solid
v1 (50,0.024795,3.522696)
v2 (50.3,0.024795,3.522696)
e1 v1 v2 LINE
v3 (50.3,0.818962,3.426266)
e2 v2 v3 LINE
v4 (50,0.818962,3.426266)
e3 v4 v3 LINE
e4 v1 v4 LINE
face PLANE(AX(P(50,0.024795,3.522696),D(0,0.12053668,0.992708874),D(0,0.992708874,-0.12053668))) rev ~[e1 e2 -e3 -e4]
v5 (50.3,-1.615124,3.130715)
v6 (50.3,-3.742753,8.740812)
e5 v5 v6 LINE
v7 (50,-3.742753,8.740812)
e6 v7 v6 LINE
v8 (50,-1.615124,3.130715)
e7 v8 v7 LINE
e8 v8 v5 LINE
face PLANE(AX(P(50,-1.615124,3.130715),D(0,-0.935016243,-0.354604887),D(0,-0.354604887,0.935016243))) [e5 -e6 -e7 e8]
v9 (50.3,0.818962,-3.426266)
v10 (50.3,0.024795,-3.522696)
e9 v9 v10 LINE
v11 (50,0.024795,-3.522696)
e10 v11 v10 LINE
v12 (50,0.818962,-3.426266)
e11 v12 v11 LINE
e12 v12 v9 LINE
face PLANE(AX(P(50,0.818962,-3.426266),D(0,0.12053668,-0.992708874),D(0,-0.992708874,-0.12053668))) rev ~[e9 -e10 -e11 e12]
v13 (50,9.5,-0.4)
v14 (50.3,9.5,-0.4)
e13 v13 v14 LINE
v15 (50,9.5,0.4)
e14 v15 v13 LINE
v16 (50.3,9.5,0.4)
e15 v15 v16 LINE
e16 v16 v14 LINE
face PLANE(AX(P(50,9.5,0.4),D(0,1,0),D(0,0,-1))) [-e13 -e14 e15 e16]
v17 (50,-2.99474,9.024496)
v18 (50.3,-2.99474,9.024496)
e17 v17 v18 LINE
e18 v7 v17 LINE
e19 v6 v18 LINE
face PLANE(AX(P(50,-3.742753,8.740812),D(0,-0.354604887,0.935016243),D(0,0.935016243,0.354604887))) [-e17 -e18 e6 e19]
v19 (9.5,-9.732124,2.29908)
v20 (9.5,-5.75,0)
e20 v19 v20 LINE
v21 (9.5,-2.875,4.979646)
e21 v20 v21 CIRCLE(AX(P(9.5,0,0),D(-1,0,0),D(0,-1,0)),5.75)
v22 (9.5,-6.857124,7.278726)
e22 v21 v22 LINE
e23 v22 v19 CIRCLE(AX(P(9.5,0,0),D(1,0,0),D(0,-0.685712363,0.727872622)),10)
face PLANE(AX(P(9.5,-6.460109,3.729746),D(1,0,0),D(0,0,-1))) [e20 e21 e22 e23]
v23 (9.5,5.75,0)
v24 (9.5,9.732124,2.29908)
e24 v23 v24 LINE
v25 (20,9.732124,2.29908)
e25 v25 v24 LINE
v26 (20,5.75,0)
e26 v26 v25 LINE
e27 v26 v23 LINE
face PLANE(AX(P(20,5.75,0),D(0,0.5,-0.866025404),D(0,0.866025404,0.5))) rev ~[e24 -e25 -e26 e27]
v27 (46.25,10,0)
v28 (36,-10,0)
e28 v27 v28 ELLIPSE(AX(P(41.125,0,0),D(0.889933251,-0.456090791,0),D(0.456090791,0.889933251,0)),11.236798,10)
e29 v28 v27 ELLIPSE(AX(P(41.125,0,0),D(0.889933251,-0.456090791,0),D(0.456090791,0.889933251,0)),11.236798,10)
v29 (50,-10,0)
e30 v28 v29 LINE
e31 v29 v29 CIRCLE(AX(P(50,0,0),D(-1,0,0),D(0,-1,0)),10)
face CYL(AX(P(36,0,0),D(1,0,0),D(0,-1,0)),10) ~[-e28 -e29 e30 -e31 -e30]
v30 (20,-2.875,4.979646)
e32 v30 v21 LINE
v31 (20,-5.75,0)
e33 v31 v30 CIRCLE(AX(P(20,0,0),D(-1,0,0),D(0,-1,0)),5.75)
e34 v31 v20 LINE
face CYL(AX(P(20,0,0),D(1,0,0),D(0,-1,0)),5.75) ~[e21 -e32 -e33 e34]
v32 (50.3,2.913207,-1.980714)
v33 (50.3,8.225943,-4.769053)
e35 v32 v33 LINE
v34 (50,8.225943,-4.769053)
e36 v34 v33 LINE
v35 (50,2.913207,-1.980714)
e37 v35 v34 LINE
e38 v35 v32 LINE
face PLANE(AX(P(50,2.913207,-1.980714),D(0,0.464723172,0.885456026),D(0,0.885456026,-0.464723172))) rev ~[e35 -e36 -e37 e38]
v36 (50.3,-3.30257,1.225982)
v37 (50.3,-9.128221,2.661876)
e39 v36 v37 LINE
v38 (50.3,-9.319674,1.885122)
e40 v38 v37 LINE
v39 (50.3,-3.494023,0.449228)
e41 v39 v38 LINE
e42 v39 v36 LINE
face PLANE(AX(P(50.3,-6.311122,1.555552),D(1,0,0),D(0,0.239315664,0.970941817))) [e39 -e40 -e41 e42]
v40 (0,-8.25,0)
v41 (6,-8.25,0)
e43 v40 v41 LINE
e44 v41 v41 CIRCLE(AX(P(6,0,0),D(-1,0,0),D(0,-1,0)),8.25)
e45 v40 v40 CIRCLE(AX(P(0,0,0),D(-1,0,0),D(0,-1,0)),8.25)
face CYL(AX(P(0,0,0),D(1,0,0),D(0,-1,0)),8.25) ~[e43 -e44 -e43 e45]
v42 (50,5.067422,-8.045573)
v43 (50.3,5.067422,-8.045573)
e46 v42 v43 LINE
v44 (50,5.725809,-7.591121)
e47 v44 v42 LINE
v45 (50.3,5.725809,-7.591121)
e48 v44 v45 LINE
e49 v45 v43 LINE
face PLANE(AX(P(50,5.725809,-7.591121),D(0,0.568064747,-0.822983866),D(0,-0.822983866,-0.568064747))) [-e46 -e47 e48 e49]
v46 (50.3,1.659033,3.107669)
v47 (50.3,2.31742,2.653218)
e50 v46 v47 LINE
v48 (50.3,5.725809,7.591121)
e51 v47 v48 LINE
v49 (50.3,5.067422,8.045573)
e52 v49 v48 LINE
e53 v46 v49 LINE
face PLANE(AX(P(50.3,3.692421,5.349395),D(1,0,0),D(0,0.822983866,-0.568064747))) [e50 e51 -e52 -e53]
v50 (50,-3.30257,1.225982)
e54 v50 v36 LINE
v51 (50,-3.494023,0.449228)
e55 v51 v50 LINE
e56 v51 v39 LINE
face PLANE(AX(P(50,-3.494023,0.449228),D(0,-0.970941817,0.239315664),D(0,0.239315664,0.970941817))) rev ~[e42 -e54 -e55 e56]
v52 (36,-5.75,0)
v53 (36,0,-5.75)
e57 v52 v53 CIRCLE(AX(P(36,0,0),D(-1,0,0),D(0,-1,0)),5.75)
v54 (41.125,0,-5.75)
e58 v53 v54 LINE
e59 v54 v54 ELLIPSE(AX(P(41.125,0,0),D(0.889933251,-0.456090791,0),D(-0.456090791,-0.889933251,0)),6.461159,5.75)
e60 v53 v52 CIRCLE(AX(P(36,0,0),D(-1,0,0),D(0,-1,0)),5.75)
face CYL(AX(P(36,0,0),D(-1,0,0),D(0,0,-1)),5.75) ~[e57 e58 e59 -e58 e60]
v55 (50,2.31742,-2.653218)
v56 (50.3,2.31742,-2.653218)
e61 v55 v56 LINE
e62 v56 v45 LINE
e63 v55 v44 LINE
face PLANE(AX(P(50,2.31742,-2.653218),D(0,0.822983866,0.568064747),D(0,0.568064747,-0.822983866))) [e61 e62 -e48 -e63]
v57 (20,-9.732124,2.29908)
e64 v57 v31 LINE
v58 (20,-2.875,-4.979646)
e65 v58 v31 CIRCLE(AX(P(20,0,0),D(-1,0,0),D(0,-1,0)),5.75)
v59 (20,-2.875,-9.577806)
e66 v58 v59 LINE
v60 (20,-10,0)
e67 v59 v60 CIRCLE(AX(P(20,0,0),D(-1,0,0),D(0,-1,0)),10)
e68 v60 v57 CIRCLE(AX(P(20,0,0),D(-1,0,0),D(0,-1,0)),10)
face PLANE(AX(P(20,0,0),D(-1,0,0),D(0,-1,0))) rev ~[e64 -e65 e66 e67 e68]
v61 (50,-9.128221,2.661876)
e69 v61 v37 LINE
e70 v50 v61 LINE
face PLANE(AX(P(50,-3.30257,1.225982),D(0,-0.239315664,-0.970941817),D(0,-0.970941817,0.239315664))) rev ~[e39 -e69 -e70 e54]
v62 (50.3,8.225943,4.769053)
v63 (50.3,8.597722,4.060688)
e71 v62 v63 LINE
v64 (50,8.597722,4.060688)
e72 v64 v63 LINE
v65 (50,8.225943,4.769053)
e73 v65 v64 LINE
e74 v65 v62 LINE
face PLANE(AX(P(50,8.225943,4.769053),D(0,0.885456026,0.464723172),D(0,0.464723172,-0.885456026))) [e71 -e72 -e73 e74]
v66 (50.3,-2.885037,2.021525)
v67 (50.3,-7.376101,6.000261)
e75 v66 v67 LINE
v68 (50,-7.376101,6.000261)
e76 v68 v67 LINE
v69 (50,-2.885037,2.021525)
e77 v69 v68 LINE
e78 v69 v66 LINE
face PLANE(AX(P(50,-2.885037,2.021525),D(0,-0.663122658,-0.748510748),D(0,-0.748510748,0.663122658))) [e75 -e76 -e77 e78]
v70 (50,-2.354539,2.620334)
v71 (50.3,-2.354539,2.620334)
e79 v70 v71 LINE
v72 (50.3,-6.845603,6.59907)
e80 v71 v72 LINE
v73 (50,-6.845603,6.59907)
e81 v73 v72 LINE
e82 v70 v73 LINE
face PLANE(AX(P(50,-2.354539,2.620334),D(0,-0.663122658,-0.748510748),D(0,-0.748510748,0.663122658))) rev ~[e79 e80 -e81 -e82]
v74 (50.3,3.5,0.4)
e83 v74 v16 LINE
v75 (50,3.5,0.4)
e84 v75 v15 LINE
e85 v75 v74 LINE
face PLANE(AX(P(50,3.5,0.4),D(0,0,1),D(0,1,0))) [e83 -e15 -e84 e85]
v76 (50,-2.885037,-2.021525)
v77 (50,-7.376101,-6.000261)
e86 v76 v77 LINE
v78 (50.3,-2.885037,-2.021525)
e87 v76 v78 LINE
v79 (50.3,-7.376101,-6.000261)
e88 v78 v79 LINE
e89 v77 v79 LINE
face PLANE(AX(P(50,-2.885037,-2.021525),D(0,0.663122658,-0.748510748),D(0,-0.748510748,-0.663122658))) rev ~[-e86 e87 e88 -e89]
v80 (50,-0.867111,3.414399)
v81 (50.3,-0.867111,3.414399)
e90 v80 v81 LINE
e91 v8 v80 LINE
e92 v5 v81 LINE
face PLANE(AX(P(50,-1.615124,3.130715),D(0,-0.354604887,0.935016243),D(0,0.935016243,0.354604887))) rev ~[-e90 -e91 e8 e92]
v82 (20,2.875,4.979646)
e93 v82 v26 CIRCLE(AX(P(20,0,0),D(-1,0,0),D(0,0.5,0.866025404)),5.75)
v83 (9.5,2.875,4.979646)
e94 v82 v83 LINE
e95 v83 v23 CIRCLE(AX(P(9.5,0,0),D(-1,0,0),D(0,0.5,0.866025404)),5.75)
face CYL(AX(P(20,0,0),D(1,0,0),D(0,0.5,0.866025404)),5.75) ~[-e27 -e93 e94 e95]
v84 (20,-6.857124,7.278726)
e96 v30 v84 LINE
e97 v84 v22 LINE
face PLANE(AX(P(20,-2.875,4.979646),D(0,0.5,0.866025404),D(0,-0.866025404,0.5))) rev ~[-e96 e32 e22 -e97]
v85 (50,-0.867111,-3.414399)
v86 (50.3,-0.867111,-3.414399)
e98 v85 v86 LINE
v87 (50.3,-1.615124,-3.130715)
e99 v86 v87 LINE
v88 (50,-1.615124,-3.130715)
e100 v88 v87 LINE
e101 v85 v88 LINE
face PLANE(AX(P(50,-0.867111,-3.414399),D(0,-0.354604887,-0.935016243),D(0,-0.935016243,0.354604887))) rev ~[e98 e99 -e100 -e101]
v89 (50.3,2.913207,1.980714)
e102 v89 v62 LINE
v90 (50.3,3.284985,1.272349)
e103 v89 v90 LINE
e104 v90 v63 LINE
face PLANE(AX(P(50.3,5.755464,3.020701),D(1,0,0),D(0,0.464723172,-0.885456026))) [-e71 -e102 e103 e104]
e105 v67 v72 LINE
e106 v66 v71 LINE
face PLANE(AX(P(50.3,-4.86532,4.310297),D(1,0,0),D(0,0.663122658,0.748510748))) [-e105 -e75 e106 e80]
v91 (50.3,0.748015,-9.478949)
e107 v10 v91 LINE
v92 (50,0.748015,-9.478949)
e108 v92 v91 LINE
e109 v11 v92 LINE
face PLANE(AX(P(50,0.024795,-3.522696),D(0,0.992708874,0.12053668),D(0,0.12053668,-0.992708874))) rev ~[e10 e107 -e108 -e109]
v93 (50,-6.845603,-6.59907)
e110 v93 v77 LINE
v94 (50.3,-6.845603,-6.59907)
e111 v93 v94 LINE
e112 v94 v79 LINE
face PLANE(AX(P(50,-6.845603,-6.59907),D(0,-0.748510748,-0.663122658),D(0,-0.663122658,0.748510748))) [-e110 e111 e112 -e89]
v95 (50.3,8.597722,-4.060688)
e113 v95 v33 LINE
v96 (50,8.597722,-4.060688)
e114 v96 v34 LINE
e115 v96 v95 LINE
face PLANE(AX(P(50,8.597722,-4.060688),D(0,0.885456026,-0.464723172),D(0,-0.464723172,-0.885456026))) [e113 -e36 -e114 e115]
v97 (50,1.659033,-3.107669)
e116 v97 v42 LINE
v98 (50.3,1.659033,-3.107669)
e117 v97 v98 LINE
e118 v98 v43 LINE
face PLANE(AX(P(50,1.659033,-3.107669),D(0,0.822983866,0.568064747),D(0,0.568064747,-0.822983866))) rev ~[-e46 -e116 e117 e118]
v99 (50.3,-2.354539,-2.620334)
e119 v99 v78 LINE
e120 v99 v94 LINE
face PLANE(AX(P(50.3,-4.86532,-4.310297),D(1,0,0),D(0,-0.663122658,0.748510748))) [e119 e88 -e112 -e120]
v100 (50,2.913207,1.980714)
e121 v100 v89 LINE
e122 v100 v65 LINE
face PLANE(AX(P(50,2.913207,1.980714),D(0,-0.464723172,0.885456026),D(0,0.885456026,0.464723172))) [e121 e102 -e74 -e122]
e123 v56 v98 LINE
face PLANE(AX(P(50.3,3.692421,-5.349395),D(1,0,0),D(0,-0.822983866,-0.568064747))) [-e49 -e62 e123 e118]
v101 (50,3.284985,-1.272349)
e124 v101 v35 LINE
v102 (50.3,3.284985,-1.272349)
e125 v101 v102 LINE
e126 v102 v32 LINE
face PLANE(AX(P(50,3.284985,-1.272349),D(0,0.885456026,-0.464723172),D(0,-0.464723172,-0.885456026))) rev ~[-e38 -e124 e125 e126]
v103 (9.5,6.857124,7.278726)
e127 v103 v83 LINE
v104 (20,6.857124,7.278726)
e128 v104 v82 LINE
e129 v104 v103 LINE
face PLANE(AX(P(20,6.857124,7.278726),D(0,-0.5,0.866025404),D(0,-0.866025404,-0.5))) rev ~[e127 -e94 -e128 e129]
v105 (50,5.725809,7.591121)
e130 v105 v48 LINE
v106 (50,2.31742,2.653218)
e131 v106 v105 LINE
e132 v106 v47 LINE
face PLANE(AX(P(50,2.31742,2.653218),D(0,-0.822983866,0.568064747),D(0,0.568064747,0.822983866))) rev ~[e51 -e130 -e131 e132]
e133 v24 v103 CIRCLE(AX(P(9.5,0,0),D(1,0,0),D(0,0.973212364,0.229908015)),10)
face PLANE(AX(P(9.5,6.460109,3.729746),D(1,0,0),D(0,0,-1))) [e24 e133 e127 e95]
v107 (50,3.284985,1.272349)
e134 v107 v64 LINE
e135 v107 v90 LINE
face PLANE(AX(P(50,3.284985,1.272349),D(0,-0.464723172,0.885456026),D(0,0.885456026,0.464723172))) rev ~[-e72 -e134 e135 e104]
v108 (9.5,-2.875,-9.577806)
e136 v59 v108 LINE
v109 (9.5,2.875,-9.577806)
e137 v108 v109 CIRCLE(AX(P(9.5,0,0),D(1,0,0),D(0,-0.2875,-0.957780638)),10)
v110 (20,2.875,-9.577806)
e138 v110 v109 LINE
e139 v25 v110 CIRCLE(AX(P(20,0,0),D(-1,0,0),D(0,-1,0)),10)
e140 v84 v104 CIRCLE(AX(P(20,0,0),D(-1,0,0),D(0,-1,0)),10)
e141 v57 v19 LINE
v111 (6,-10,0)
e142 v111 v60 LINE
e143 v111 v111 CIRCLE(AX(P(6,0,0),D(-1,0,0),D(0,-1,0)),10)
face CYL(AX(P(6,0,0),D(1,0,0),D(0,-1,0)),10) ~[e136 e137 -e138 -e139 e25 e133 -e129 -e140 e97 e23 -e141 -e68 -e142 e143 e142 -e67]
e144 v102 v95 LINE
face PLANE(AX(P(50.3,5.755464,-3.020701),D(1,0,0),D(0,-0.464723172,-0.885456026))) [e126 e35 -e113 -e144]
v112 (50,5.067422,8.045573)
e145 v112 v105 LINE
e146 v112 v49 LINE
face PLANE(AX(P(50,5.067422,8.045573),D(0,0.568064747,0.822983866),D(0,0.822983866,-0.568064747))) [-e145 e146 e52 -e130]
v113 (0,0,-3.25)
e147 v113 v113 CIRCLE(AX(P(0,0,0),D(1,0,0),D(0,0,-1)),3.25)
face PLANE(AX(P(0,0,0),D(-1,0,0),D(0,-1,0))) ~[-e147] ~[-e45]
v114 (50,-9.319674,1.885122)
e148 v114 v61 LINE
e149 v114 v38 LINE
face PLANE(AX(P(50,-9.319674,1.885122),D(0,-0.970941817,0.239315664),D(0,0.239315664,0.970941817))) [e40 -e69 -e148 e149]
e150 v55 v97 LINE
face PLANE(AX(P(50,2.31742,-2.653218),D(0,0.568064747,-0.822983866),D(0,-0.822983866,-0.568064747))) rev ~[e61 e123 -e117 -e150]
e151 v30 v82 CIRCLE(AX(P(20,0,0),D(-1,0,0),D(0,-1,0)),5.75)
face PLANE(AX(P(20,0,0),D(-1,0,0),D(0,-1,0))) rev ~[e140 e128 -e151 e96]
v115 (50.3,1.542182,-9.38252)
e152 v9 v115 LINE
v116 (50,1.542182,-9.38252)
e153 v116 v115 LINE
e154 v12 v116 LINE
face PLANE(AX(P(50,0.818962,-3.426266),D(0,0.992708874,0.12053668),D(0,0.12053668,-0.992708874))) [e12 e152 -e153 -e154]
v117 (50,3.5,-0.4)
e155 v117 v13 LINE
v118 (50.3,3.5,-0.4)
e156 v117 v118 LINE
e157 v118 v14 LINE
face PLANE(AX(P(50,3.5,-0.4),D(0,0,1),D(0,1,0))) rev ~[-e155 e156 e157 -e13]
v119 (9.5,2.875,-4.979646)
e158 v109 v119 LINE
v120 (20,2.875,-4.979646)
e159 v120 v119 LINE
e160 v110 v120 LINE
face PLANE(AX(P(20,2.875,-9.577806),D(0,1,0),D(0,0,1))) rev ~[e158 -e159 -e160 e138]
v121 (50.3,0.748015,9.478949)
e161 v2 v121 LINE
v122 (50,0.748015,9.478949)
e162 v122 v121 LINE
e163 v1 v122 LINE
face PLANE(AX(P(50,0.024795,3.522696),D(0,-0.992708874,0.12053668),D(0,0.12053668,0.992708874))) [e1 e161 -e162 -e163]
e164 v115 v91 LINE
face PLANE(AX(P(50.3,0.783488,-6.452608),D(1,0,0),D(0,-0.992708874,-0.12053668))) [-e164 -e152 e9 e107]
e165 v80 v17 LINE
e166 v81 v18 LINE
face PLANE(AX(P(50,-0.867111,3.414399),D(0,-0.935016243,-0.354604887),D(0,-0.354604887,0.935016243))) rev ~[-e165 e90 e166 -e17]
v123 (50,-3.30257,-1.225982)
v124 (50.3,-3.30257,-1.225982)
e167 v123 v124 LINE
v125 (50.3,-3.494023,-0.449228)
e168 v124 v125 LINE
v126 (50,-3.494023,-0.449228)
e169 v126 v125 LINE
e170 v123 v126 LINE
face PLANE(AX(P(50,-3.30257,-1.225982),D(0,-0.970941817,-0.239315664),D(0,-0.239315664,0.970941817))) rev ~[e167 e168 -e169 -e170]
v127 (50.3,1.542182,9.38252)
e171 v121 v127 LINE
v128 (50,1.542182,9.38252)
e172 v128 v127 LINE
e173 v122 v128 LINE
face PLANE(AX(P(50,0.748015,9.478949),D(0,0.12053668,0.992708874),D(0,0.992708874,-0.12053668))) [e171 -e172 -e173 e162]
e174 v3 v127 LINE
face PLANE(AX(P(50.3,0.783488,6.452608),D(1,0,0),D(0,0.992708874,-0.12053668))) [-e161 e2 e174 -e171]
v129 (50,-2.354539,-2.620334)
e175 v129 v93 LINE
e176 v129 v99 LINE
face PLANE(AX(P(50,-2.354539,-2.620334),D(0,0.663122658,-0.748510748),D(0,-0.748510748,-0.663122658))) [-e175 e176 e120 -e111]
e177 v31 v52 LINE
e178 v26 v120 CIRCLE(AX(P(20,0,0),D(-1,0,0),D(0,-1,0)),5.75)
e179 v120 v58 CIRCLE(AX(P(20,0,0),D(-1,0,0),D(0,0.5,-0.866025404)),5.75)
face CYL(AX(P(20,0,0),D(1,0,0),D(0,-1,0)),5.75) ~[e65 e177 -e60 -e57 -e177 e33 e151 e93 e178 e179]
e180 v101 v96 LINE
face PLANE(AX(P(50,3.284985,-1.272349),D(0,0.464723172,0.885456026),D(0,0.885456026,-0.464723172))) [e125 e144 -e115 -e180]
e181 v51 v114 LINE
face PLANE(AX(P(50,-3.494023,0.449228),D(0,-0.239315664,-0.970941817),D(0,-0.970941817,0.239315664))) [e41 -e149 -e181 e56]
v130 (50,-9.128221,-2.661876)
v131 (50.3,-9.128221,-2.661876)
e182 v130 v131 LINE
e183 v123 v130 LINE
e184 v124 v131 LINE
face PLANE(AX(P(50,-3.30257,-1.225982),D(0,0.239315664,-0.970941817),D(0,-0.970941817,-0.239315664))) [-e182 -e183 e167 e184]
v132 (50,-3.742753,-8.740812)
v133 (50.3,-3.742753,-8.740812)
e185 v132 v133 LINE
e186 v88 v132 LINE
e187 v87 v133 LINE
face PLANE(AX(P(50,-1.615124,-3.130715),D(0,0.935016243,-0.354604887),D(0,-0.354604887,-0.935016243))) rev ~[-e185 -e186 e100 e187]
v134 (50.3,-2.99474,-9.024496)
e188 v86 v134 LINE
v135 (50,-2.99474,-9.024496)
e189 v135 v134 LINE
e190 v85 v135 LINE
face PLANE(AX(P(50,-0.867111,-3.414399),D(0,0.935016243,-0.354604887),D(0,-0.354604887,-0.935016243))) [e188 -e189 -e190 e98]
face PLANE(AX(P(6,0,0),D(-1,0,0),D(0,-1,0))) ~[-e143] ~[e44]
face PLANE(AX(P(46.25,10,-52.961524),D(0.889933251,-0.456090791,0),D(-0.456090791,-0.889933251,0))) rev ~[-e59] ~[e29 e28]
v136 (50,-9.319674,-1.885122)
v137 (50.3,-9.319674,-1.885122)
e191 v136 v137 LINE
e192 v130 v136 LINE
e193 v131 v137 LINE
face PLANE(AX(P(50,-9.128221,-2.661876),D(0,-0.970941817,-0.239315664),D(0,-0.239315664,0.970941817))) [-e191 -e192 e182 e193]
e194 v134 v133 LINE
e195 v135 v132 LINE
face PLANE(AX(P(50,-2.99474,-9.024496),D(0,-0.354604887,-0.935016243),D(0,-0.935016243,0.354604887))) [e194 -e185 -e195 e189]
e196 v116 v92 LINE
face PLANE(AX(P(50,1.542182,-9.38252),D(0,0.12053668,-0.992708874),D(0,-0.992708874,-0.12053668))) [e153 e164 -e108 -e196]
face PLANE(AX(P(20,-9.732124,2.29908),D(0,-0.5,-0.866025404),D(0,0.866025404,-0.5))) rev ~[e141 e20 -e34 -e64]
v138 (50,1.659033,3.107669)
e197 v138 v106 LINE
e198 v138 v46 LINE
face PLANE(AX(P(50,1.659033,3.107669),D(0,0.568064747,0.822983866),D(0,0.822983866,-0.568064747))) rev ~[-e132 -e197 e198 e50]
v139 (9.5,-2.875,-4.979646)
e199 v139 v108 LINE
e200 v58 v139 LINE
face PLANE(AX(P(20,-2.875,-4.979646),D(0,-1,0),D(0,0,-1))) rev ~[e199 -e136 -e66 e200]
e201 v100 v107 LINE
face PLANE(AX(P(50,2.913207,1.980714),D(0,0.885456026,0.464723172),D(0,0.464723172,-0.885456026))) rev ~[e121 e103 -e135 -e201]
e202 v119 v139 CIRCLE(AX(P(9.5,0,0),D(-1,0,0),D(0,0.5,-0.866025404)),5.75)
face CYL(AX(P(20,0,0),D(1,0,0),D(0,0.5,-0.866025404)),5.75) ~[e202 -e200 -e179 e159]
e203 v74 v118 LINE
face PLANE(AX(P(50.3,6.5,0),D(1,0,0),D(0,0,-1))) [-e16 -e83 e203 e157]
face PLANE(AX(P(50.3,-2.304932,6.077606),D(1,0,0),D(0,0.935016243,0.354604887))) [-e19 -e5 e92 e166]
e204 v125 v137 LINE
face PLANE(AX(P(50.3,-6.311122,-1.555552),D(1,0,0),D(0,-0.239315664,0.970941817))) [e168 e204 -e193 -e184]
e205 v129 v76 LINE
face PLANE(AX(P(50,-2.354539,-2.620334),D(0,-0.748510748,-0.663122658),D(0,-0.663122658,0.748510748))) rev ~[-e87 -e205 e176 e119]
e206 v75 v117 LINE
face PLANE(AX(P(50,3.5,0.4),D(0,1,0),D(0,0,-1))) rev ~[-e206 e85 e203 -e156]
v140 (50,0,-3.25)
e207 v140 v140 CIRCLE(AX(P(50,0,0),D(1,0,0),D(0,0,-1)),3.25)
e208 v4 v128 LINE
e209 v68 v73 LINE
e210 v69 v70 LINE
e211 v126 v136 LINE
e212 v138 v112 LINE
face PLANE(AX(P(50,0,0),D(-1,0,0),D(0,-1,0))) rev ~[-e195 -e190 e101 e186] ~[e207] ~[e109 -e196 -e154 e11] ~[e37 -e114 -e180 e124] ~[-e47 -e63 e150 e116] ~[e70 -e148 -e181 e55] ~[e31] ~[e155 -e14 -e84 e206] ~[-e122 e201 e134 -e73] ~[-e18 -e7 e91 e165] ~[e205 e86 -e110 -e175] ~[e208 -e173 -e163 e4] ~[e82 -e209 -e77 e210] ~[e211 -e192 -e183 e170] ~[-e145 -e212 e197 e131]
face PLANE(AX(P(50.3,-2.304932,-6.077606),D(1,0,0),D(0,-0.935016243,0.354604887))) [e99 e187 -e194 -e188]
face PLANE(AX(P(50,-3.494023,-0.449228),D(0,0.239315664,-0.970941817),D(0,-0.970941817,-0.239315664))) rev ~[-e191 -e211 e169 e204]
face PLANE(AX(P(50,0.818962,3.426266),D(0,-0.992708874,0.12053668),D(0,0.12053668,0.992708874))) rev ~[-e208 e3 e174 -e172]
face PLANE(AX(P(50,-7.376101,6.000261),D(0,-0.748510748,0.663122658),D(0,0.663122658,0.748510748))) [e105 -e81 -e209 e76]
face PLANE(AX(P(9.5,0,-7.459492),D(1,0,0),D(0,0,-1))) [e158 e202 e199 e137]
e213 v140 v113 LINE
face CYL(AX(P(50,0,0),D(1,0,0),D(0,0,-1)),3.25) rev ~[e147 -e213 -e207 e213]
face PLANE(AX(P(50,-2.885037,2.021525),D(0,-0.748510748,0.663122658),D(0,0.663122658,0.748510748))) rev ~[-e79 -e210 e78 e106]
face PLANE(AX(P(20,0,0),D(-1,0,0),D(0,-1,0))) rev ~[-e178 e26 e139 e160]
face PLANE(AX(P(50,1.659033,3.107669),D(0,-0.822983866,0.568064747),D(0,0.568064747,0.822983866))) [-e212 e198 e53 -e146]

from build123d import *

# Parameters (mm, degrees)
CUT_EXTRUDE_1_DEPTH      = 10.5
CUT_EXTRUDE_2_DEPTH      = 52.961524227
CUT_EXTRUDE_2_DEPTH_BACK = 52.961524227
EXTRUDE_1_REACH          = 40.678
SKETCH_4_R               = 5.75
SKETCH_5_R               = 3.25
CUT_EXTRUDE_3_DEPTH      = 52.961524227
SKETCH_6_W               = 0.8
SKETCH_6_H               = 6
EXTRUDE_2_DEPTH          = 0.3
PATTERN_CIRCULAR_1_COUNT = 13


with BuildPart() as part:
    # 草图1 → 旋转1 (revolve)
    with BuildSketch(Plane.XY):
        Polygon((36, 0), (0, 0), (0, -8.25), (6, -8.25), (6, -10), (20, -10), (20, -5.75), (36, -5.75), align=None)
    revolve(axis=Axis((50, 0, 0), (-1, 0, 0)))

    # 草图2 → 切除-拉伸1 (cut)
    with BuildSketch(Plane(origin=(20, 0, 0), x_dir=(0, 0, -1), z_dir=(1, 0, 0))):
        with BuildLine():
            ThreePointArc((4.979646072, 2.875), (5.75, 0), (4.979646072, -2.875))
            Line((4.979646072, -2.875), (9.577806377, -2.875))
            ThreePointArc((9.577806377, -2.875), (10, 0), (9.577806377, 2.875))
            Line((9.577806377, 2.875), (4.979646072, 2.875))
        make_face()
        with BuildLine():
            ThreePointArc((-4.979646072, 2.875), (-2.875, 4.979646072), (0, 5.75))
            Line((0, 5.75), (-2.299080153, 9.732123635))
            ThreePointArc((-2.299080153, 9.732123635), (-5, 8.660254038), (-7.278726225, 6.857123635))
            Line((-7.278726225, 6.857123635), (-4.979646072, 2.875))
        make_face()
        with BuildLine():
            Line((-2.299080153, -9.732123635), (0, -5.75))
            ThreePointArc((0, -5.75), (-2.875, -4.979646072), (-4.979646072, -2.875))
            Line((-4.979646072, -2.875), (-7.278726225, -6.857123635))
            ThreePointArc((-7.278726225, -6.857123635), (-5, -8.660254038), (-2.299080153, -9.732123635))
        make_face()
    extrude(amount=-CUT_EXTRUDE_1_DEPTH, mode=Mode.SUBTRACT)


with BuildPart() as body_2:
    # 草图1<3> → 旋转2 (revolve)
    with BuildSketch(Plane.XY):
        Polygon((50, 0), (36, 0), (36, -5.75), (36, -10), (50, -10), align=None)
    revolve(axis=Axis((50, 0, 0), (-1, 0, 0)))

    # 草图3 → 切除-拉伸2 (cut, two sides: drawn at the far end of the back side and taken through both)
    with BuildSketch(Plane.XY.offset(-CUT_EXTRUDE_2_DEPTH_BACK)):
        Polygon((36, -10), (36, 10), (46.25, 10), align=None)
    extrude(amount=CUT_EXTRUDE_2_DEPTH + CUT_EXTRUDE_2_DEPTH_BACK, mode=Mode.SUBTRACT)

    # 草图4 → 凸台-拉伸1 (add, up to next)
    with BuildSketch(Plane(origin=(36, 0, 0), x_dir=(0, 0, -1), z_dir=(1, 0, 0)), mode=Mode.PRIVATE) as extrude_1_sk1:
        Circle(SKETCH_4_R)
    extrude_1_tool1 = extrude(extrude_1_sk1.sketch, amount=EXTRUDE_1_REACH, mode=Mode.PRIVATE) - body_2.part

    add(part.part)  # 凸台-拉伸1 merges part
    add(extrude_1_tool1.solids().sort_by_distance((36, 0, 0))[0])

    # 草图5 → 切除-拉伸3 (cut, through all)
    with BuildSketch(Plane(origin=(50, 0, 0), x_dir=(0, 0, -1), z_dir=(1, 0, 0))):
        Circle(SKETCH_5_R)
    extrude(amount=-CUT_EXTRUDE_3_DEPTH, mode=Mode.SUBTRACT)

    # 草图6 → 凸台-拉伸2 (add)
    with BuildSketch(Plane(origin=(50, 0, 0), x_dir=(0, 0, -1), z_dir=(1, 0, 0))):
        with Locations((0, 6.5)):
            Rectangle(SKETCH_6_W, SKETCH_6_H)
    extrude_2 = extrude(amount=EXTRUDE_2_DEPTH)

    # 阵列(圆周)1: 凸台-拉伸2 ×13 about axis
    pattern_circular_1_axis = Axis((0, 0, 0), (1, 0, 0))
    for i in range(1, PATTERN_CIRCULAR_1_COUNT):
        add(extrude_2.rotate(pattern_circular_1_axis, i * 360 / PATTERN_CIRCULAR_1_COUNT))


solid = body_2.part
